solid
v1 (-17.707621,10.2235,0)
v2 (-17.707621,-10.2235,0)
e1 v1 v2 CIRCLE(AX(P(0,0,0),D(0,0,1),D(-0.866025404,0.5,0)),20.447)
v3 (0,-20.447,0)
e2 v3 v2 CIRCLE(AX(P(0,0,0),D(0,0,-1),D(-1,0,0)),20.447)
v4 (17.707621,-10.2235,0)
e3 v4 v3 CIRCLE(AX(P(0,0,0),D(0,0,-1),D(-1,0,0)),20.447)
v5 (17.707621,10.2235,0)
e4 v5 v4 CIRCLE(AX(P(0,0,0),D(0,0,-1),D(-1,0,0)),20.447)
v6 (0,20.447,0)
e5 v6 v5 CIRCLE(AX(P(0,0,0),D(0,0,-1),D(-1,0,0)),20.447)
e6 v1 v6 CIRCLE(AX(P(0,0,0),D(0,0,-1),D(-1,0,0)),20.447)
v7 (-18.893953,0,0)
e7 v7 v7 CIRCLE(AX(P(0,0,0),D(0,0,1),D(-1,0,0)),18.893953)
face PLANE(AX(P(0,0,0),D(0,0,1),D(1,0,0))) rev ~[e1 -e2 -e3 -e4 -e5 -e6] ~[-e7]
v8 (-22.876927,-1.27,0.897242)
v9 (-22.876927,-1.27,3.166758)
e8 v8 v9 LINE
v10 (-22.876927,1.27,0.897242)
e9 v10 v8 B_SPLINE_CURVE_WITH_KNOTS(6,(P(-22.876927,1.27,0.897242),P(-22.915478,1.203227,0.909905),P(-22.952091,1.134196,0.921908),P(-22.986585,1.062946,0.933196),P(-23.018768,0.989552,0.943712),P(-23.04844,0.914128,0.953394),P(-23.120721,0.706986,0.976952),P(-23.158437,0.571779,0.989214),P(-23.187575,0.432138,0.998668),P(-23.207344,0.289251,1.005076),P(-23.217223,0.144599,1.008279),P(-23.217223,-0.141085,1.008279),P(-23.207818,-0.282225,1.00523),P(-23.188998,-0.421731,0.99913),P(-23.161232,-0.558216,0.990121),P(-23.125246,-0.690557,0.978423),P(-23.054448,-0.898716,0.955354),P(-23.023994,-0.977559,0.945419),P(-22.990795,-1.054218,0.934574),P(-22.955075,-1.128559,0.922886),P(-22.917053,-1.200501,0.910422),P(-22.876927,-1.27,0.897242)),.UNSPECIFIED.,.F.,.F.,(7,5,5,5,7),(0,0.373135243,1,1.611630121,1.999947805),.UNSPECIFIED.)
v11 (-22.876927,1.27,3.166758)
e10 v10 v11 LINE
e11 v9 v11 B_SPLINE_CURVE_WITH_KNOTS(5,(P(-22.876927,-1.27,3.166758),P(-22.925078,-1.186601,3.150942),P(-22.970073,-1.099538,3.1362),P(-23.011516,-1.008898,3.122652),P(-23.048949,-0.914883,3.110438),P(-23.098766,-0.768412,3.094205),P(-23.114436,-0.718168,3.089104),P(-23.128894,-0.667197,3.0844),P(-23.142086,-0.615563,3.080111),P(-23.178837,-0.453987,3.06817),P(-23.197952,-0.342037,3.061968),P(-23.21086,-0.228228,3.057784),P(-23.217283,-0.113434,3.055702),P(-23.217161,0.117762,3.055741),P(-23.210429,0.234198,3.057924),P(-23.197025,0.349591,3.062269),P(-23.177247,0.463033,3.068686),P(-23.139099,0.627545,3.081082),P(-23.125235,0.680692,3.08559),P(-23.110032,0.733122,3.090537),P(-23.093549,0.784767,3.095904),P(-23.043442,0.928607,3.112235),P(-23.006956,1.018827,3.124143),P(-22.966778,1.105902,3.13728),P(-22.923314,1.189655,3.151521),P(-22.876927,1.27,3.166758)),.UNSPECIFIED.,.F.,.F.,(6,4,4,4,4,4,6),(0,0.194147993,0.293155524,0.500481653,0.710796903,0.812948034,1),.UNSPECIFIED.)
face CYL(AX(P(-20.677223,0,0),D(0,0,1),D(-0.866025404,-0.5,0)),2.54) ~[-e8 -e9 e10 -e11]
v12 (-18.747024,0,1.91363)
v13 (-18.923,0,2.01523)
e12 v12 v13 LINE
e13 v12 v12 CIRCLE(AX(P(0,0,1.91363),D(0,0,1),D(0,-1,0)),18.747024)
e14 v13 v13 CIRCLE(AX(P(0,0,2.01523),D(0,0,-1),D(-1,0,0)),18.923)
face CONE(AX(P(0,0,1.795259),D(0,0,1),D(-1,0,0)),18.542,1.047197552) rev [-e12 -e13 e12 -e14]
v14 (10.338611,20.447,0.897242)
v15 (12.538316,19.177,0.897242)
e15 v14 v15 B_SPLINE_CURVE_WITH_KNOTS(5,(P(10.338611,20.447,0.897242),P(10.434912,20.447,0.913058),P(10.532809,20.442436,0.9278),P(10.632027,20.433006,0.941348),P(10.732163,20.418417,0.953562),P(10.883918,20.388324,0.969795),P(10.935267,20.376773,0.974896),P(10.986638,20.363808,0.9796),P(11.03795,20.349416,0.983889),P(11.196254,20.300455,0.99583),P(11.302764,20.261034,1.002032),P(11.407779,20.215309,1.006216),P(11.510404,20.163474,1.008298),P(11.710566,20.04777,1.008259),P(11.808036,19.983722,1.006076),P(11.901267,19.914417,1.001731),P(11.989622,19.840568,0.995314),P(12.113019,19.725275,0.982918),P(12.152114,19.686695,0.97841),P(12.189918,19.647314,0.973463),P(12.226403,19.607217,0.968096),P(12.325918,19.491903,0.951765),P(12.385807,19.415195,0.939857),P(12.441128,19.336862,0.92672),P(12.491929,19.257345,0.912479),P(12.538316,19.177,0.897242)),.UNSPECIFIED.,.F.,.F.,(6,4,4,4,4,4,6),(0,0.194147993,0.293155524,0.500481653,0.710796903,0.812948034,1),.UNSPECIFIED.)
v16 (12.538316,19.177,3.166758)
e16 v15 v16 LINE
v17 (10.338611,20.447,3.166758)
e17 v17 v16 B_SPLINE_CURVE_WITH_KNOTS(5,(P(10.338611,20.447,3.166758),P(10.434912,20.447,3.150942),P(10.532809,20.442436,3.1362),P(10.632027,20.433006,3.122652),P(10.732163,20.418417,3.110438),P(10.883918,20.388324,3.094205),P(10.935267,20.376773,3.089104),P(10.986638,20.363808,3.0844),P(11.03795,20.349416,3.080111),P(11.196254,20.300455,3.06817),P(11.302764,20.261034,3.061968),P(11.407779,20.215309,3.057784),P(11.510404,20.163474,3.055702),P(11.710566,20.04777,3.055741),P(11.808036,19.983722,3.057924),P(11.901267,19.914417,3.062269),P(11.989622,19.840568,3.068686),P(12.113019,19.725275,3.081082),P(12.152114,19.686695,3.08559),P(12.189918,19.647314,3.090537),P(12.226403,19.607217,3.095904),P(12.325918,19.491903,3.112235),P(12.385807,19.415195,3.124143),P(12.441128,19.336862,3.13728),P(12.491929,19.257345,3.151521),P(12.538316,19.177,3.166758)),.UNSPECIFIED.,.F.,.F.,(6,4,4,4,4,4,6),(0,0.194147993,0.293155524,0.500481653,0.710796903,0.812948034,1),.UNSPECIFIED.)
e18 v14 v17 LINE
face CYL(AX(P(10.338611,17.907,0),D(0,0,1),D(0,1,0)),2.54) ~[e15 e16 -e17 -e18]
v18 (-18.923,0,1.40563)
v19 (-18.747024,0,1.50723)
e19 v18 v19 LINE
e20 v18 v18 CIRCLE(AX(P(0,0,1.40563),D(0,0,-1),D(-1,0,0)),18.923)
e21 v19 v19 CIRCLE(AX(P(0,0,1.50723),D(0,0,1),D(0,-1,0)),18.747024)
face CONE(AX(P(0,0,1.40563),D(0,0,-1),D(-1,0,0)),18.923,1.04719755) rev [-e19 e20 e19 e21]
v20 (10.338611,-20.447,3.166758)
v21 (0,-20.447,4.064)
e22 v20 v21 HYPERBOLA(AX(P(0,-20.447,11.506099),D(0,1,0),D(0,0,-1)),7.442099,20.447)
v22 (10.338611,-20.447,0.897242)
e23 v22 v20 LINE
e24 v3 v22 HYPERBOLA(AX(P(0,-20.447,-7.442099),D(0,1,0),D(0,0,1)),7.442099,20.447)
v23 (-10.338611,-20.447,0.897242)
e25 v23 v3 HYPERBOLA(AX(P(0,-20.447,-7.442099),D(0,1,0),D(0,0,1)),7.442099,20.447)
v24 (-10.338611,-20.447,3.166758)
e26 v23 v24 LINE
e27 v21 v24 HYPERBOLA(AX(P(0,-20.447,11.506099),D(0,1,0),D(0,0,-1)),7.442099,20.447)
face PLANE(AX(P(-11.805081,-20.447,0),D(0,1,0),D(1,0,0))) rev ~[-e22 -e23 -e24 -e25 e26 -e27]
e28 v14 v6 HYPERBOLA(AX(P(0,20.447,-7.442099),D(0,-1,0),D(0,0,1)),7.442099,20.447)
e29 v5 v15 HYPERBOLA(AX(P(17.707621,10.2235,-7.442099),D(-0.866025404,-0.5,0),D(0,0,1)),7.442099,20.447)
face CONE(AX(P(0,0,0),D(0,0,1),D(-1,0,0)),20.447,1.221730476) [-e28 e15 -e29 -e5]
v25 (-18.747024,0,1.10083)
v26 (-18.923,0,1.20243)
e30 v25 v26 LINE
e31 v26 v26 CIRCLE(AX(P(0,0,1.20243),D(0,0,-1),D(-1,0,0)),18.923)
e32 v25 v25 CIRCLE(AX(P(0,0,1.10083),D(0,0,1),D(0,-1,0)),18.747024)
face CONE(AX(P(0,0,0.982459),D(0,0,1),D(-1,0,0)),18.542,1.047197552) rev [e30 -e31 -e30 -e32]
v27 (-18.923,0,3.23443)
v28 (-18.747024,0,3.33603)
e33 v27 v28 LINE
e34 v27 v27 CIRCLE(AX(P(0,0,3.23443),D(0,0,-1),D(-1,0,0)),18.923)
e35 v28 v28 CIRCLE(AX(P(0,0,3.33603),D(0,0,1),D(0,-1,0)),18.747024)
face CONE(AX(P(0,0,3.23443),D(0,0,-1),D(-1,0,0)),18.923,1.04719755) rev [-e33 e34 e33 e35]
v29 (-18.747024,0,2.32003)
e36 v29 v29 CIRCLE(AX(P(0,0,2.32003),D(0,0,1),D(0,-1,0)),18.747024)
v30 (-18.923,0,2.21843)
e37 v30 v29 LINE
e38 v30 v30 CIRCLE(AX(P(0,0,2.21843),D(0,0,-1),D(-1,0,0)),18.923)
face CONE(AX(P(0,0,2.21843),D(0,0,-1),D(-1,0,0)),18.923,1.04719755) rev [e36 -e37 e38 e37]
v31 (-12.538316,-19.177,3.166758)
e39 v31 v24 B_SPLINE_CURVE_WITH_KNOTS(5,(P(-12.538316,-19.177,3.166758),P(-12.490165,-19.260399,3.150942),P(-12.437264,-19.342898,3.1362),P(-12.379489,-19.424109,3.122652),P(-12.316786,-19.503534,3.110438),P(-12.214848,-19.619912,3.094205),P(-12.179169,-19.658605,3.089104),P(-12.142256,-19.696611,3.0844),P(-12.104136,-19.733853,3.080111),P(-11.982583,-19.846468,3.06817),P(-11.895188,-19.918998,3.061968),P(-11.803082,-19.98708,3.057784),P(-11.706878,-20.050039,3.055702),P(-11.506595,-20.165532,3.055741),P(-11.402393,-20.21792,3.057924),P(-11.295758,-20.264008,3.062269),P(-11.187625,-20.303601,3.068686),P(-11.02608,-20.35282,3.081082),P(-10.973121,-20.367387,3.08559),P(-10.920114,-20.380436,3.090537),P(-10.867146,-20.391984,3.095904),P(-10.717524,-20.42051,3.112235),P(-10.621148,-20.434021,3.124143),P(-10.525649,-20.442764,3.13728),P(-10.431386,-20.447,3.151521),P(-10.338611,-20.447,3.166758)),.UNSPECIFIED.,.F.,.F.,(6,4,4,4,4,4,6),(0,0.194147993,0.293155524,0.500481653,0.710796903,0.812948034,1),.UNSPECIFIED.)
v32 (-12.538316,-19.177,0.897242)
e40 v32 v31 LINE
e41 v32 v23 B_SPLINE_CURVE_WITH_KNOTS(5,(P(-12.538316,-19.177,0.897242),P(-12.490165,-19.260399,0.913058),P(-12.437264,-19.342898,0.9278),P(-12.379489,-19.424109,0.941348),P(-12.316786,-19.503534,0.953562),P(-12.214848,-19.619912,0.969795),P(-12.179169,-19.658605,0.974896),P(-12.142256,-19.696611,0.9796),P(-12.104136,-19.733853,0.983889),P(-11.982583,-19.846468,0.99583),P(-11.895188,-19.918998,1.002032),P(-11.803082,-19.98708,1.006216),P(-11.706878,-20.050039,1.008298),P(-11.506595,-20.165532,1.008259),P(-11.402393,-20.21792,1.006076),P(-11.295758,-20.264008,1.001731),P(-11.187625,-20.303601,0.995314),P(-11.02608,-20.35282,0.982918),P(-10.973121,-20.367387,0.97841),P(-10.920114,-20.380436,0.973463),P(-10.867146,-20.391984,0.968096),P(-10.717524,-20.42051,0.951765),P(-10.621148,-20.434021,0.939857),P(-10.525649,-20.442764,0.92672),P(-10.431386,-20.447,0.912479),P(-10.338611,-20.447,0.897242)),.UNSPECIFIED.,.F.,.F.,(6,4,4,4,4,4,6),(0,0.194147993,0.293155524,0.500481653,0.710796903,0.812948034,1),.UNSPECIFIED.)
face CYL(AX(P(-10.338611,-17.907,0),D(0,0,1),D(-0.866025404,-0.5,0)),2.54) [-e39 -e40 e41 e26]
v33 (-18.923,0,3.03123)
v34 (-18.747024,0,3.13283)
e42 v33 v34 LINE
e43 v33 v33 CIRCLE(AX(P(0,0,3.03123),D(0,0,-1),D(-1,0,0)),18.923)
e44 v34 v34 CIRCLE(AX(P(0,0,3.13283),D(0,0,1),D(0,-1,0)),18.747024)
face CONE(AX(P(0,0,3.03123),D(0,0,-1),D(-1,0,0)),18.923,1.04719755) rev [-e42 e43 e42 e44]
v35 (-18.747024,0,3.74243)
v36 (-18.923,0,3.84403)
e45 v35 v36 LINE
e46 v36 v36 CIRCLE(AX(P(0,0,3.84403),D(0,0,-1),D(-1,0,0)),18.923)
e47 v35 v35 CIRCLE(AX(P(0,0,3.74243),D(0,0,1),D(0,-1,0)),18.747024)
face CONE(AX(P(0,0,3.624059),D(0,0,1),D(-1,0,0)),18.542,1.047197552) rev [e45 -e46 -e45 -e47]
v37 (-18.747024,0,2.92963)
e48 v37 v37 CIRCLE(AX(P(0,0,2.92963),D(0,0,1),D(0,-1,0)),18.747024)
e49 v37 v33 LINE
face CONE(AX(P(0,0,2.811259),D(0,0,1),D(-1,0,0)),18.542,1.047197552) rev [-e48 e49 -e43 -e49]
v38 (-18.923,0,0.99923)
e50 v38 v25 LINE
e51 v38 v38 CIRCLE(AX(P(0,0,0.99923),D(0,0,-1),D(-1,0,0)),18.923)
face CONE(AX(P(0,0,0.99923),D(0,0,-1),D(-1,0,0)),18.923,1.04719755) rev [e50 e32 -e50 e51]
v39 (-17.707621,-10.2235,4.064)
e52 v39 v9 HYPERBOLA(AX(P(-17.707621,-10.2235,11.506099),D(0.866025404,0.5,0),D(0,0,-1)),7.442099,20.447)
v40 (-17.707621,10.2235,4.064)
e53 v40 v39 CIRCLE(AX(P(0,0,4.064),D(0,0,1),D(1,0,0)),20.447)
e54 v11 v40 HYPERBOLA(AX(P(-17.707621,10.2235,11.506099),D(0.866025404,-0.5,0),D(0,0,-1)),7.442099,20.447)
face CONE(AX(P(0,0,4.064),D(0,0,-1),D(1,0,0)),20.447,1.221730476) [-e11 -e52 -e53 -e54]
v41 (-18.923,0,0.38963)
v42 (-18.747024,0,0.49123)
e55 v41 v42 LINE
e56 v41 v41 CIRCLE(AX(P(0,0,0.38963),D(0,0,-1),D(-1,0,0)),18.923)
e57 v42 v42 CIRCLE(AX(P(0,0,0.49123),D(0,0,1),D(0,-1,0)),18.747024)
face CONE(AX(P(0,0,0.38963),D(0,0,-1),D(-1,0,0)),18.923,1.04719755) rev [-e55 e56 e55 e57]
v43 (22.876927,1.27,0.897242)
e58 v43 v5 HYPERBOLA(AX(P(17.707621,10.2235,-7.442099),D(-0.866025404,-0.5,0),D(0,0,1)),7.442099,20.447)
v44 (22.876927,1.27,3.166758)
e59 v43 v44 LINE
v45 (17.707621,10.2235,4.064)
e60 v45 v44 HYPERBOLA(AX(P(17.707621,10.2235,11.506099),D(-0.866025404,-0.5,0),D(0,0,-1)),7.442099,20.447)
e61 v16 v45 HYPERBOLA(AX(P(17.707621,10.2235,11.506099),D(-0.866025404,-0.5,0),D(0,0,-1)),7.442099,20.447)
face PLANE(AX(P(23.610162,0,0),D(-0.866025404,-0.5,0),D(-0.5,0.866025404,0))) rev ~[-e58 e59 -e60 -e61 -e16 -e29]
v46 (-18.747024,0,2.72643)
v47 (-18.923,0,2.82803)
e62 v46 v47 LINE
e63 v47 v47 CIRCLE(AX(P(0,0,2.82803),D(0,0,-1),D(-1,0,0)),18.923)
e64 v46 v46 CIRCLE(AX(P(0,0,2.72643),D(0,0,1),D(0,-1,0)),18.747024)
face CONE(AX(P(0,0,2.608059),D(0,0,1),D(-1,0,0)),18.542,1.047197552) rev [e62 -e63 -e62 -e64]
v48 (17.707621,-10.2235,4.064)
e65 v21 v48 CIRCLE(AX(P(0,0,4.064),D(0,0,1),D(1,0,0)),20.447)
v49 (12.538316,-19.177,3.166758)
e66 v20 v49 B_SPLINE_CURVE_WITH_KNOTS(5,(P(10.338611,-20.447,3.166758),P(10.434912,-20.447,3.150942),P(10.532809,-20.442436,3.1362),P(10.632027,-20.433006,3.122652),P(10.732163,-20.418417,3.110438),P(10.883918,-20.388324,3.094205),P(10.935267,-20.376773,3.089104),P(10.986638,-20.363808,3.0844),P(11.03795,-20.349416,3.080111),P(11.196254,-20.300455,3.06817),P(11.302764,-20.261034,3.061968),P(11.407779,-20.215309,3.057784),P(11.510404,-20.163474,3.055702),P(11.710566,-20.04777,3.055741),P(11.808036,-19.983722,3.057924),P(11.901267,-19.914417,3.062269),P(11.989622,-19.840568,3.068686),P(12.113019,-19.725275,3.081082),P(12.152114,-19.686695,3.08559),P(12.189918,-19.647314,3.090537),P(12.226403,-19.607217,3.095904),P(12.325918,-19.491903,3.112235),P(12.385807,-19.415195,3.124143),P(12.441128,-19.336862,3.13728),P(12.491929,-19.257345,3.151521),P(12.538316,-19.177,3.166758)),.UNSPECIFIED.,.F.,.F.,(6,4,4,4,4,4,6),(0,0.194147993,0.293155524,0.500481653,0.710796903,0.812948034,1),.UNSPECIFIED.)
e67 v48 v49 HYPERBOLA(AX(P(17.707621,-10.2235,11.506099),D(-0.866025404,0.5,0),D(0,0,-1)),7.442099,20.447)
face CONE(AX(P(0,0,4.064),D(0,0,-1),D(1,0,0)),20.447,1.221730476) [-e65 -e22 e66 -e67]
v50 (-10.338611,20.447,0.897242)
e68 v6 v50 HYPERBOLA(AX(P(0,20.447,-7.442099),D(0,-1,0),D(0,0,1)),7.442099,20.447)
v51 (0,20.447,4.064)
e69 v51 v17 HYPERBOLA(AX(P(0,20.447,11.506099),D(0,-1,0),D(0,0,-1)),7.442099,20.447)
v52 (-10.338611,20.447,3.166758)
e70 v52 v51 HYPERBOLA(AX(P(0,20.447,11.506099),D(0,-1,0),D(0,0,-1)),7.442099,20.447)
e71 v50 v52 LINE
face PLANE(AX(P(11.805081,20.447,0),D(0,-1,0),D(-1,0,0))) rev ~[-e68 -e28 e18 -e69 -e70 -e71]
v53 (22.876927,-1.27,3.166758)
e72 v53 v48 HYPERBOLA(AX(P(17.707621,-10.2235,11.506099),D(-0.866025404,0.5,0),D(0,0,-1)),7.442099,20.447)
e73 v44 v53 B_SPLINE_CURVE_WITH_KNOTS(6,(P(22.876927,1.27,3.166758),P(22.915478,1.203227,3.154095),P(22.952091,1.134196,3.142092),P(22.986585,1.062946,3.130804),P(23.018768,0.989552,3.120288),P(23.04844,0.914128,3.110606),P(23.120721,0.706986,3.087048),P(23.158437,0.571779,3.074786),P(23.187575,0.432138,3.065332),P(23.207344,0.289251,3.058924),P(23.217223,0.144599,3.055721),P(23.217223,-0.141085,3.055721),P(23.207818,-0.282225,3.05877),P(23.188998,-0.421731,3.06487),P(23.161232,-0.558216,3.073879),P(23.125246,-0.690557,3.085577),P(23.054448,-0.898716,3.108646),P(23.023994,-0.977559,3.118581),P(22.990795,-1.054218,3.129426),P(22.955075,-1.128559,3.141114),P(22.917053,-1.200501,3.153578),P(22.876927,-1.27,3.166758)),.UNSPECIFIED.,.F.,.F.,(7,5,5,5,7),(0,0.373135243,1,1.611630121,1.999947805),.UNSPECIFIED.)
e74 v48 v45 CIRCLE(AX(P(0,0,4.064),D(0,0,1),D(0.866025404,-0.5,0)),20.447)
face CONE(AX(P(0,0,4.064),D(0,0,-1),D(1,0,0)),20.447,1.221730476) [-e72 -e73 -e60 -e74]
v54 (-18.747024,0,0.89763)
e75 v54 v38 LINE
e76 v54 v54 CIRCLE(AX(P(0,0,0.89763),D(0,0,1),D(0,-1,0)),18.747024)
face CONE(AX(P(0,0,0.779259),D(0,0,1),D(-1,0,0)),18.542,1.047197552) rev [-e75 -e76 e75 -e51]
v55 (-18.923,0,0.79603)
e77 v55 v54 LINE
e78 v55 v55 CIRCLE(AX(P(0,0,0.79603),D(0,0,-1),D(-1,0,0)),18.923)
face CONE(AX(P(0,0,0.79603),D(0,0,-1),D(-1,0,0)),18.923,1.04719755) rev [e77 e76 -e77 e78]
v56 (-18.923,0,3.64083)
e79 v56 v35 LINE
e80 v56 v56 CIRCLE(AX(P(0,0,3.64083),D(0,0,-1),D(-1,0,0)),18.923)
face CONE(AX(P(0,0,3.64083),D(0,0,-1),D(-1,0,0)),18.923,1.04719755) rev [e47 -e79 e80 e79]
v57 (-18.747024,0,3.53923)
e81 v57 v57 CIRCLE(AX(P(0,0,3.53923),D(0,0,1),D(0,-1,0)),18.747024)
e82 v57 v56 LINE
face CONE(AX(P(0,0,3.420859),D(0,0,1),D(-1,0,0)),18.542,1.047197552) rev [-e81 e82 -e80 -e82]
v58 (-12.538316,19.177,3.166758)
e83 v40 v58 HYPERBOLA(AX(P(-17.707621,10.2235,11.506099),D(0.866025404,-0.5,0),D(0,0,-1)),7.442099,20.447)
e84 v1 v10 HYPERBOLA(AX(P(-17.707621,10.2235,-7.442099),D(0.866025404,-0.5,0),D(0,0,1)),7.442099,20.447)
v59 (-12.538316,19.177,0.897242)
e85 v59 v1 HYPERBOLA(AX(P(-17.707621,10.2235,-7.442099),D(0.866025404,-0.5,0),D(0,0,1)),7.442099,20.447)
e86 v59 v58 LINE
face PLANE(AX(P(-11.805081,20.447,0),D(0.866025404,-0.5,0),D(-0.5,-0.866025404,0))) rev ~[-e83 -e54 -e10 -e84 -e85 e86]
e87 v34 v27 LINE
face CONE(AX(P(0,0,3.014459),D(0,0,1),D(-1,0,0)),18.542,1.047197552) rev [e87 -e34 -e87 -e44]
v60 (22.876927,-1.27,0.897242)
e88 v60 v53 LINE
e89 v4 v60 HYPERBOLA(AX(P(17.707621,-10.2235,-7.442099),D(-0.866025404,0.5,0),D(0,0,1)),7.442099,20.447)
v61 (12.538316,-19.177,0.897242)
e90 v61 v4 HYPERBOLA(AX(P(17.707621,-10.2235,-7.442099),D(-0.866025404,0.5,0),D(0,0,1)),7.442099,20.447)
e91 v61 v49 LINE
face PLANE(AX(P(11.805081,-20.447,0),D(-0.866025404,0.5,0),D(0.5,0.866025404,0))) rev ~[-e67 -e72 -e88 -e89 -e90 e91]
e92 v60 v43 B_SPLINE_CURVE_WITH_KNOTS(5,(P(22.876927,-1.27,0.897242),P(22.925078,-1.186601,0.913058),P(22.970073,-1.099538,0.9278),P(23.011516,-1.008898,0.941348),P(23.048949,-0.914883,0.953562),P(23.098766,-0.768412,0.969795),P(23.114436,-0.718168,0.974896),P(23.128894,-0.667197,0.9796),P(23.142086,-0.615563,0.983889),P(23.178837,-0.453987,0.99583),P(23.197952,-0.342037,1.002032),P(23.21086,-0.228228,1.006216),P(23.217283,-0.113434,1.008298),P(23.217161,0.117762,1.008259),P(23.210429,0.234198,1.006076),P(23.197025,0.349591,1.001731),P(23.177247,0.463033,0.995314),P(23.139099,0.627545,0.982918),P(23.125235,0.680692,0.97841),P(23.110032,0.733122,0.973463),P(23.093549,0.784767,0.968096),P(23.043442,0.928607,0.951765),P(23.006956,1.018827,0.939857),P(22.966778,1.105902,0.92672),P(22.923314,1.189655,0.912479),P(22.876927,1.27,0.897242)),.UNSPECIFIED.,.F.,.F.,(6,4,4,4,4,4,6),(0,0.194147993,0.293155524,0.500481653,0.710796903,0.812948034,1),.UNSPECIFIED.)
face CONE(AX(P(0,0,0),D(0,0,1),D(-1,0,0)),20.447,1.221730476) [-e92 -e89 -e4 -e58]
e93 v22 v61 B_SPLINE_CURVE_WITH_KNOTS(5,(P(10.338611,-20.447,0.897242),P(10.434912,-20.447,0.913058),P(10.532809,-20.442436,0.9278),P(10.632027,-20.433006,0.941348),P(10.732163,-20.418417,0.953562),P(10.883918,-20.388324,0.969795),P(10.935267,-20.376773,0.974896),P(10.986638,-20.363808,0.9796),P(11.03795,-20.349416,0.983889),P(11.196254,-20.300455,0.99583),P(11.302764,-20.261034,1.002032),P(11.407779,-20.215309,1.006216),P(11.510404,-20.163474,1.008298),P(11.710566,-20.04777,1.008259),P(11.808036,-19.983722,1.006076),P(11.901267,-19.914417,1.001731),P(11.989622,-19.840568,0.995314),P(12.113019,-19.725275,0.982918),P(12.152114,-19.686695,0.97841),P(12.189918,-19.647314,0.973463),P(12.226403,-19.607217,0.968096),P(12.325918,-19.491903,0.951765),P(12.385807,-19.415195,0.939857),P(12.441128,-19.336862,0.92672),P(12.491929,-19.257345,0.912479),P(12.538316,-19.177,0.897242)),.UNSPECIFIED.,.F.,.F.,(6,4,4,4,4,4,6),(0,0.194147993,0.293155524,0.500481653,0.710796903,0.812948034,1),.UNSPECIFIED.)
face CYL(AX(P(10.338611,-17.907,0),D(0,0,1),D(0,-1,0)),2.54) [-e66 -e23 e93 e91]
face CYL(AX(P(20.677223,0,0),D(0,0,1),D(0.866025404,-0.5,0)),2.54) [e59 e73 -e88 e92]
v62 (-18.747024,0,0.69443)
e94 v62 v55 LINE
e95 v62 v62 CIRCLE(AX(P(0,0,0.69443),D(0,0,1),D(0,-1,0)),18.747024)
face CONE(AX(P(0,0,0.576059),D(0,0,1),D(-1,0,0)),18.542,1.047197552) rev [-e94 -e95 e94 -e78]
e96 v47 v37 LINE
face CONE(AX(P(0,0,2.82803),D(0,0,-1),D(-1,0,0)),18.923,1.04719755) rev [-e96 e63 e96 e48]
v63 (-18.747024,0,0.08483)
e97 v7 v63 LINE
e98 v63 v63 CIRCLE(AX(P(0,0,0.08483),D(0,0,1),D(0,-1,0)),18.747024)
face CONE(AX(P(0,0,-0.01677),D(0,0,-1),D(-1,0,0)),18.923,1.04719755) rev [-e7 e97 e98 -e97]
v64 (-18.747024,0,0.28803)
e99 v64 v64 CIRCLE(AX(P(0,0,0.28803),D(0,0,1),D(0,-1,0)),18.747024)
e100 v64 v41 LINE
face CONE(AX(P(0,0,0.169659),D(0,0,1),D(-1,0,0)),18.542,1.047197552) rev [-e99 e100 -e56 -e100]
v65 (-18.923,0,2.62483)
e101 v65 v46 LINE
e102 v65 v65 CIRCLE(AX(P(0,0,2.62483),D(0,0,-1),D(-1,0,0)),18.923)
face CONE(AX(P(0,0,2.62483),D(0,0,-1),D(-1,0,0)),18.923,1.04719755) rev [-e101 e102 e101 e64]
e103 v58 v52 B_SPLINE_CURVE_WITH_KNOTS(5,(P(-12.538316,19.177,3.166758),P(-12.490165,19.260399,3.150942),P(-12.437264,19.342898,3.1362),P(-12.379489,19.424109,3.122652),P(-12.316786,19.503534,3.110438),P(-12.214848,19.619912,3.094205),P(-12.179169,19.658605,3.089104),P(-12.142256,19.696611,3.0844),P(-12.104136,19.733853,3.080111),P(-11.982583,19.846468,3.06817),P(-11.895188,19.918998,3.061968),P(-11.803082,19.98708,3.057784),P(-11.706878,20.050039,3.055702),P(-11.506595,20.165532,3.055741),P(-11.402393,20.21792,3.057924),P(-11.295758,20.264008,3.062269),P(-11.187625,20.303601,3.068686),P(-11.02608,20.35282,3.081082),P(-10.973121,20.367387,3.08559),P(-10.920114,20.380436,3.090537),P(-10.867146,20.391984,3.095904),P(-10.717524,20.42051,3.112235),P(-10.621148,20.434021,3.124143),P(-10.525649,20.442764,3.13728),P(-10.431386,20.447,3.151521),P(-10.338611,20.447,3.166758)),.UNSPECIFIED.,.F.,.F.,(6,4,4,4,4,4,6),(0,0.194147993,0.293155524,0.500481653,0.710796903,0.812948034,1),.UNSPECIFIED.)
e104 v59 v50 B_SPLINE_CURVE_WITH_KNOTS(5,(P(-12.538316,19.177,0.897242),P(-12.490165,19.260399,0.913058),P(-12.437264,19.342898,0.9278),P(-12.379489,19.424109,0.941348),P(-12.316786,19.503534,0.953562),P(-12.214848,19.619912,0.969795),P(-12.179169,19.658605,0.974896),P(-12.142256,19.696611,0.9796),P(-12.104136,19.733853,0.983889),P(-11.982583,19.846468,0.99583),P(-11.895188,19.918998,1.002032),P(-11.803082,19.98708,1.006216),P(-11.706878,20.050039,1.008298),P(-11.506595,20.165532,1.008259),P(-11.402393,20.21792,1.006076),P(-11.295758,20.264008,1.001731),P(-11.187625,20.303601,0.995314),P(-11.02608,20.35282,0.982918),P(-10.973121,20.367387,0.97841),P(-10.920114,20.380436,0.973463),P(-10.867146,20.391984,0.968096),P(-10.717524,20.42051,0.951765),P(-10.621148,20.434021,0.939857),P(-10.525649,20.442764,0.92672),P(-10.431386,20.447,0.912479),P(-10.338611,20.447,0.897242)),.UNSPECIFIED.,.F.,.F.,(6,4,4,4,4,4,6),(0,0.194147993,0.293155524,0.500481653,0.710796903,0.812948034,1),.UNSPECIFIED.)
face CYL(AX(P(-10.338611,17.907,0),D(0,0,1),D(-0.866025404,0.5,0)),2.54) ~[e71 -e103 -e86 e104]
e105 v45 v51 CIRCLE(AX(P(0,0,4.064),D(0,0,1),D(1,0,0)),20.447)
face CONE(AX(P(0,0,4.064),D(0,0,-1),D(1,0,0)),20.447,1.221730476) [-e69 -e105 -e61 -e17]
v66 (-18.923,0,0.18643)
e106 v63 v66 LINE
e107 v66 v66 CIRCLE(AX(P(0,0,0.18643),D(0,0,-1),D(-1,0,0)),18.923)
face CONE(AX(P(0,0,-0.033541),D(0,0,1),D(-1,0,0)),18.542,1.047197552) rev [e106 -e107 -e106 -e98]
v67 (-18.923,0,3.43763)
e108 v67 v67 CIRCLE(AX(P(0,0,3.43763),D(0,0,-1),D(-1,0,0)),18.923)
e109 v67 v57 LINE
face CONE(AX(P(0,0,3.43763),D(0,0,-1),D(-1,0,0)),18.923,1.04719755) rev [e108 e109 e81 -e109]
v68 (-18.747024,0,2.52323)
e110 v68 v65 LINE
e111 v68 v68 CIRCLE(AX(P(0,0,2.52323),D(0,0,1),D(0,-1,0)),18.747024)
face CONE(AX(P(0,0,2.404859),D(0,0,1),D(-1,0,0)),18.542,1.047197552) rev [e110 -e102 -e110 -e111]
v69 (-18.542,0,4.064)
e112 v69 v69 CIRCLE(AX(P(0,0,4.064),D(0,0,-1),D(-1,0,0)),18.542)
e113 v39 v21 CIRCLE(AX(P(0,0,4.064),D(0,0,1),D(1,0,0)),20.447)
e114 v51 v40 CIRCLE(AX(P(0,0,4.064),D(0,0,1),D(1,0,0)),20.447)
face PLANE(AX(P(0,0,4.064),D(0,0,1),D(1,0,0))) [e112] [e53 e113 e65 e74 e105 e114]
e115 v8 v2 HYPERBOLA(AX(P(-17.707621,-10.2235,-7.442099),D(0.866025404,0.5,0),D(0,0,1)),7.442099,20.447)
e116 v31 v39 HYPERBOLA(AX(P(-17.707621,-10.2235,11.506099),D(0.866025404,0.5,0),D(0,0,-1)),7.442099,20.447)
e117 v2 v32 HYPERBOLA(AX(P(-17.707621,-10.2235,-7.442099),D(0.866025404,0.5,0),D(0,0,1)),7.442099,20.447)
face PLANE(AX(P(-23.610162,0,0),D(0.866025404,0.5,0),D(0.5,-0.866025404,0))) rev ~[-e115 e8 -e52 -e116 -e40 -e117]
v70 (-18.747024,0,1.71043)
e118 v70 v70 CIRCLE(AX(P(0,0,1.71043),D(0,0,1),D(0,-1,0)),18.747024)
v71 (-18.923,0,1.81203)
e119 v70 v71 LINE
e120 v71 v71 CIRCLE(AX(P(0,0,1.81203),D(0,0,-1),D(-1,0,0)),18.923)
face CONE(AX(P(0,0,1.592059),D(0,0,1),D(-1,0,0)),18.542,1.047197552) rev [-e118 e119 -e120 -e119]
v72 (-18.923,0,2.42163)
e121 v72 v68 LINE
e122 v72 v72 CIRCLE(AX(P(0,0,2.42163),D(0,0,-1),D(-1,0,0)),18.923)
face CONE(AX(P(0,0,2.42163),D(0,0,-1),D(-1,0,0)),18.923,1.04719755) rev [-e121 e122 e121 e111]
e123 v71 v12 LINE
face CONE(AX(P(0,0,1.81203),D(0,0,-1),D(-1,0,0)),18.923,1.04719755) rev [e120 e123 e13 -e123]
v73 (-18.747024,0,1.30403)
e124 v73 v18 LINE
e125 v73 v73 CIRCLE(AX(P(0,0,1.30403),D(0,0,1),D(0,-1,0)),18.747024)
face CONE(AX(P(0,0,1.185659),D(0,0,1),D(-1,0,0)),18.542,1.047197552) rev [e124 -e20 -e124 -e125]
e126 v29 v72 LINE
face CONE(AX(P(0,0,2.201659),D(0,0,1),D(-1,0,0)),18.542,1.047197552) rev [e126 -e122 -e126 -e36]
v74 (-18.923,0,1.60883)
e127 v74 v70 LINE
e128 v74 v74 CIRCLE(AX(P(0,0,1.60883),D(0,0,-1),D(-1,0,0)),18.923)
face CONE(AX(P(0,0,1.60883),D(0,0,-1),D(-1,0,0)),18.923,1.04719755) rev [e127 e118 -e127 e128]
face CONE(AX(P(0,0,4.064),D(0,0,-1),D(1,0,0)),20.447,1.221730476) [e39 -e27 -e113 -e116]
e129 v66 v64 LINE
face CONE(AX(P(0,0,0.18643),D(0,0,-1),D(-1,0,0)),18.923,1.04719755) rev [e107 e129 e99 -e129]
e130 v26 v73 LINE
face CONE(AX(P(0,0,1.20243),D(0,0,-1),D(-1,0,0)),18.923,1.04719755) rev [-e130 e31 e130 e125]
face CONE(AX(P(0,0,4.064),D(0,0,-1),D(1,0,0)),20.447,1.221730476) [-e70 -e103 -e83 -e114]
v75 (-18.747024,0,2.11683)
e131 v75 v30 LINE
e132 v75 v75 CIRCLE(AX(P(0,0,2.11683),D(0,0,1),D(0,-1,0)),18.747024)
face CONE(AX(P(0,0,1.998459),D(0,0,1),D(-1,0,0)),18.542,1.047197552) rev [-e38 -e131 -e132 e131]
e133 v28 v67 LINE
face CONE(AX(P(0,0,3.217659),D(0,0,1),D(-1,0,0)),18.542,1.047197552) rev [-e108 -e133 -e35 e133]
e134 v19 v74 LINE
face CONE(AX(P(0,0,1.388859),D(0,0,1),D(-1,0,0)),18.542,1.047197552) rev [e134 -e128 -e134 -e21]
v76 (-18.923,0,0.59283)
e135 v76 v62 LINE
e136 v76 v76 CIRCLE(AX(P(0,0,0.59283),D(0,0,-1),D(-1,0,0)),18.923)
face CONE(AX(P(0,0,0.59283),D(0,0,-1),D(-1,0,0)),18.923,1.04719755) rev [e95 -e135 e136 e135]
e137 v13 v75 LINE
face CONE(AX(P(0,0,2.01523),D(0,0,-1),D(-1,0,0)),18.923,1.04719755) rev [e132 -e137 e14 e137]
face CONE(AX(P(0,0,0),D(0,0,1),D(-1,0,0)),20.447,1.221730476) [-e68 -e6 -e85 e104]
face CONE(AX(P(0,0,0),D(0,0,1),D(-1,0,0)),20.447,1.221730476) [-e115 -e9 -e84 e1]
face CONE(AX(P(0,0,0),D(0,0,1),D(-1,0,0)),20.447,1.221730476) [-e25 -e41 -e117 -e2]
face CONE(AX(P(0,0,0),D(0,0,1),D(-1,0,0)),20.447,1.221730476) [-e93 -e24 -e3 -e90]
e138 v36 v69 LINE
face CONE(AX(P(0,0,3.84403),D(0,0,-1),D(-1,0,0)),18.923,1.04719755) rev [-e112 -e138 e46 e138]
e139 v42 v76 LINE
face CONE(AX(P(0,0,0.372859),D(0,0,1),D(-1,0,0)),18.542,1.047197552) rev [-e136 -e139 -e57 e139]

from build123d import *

# Parameters (mm, degrees)
SKETCH1_R          = 18.542
EXTRUDE1_DEPTH     = 4.064
FILLET1_R          = 2.54
SKETCH2_OUTSIDE_W  = 88.662
SKETCH2_OUTSIDE_H  = 83.122
SKETCH2_OUTSIDE_R  = 20.447
CUT_EXTRUDE1_DEPTH = 5.064
CUT_EXTRUDE1_DRAFT = -70
SKETCH3_OUTSIDE_W  = 88.662
SKETCH3_OUTSIDE_H  = 83.122
SKETCH3_OUTSIDE_R  = 20.447
CUT_EXTRUDE2_DEPTH = 5.0640001
CUT_EXTRUDE2_DRAFT = -70
LPATTERN1_COUNT    = 20
LPATTERN1_PITCH    = 0.2032


with BuildPart() as part:
    # Sketch1 → Extrude1 (new body)
    with BuildSketch(Plane.XY):
        Polygon((-23.610161908, 0), (-11.805080954, -20.447), (11.805080954, -20.447), (23.610161908, 0), (11.805080954, 20.447), (-11.805080954, 20.447), align=None)
        Circle(SKETCH1_R, mode=Mode.SUBTRACT)
    extrude(amount=EXTRUDE1_DEPTH)

    # Fillet1
    fillet1_edges = [part.edges().sort_by_distance(p)[0] for p in [
        (23.610161908, 0, 2.032),
        (11.805080954, -20.447, 2.032),
        (-11.805080954, -20.447, 2.032),
        (-23.610161908, 0, 2.032),
        (-11.805080954, 20.447, 2.032),
        (11.805080954, 20.447, 2.032),
    ]]
    fillet(fillet1_edges, radius=FILLET1_R)


with BuildPart() as cut_extrude1_tool:
    # Sketch2 outside → Cut-Extrude1 (with draft: the straight prism first)
    with BuildSketch(Plane.XY.offset(4.064)):
        Rectangle(SKETCH2_OUTSIDE_W, SKETCH2_OUTSIDE_H)
        Circle(SKETCH2_OUTSIDE_R, mode=Mode.SUBTRACT)
    extrude(amount=-CUT_EXTRUDE1_DEPTH)
    # Cut-Extrude1: the draft: its side faces are tilted about the plane it starts from
    cut_extrude1_sides = [cut_extrude1_tool.faces().sort_by_distance(p)[0] for p in [
        (0, -41.561, 1.532),
        (44.331, 0, 1.532),
        (0, 41.561, 1.532),
        (-44.331, 0, 1.532),
        (-20.447, 0, 1.532),
    ]]
    draft(cut_extrude1_sides, Plane.XY.offset(4.064), CUT_EXTRUDE1_DRAFT)


with BuildPart() as part_1:
    add(part.part)

    # Cut-Extrude1: cut by cut_extrude1_tool
    add(cut_extrude1_tool.part, mode=Mode.SUBTRACT)


with BuildPart() as cut_extrude2_tool:
    # Sketch3 outside → Cut-Extrude2 (with draft: the straight prism first)
    with BuildSketch(Plane(origin=(0, 0, 0), x_dir=(-1, 0, 0), z_dir=(0, 0, -1))):
        Rectangle(SKETCH3_OUTSIDE_W, SKETCH3_OUTSIDE_H)
        Circle(SKETCH3_OUTSIDE_R, mode=Mode.SUBTRACT)
    extrude(amount=-CUT_EXTRUDE2_DEPTH)
    # Cut-Extrude2: the draft: its side faces are tilted about the plane it starts from
    cut_extrude2_sides = [cut_extrude2_tool.faces().sort_by_distance(p)[0] for p in [
        (0, -41.561, 2.53200005),
        (-44.331, 0, 2.53200005),
        (0, 41.561, 2.53200005),
        (44.331, 0, 2.53200005),
        (20.447, 0, 2.53200005),
    ]]
    draft(cut_extrude2_sides, Plane(origin=(0, 0, 0), x_dir=(-1, 0, 0), z_dir=(0, 0, -1)), CUT_EXTRUDE2_DRAFT)


with BuildPart() as part_2:
    add(part_1.part)

    # Cut-Extrude2: cut by cut_extrude2_tool
    add(cut_extrude2_tool.part, mode=Mode.SUBTRACT)

    # Sketch4 → Cut-Revolve1 (revolve, cut)
    with BuildSketch(Plane(origin=(0, 0, 0), x_dir=(1, 0, 0), z_dir=(0, 1, 0))):
        Polygon((-18.542, -4.064), (-18.542, -3.624059095), (-18.923, -3.844029547), align=None)
    cut_revolve1 = revolve(axis=Axis((0, 0, 4.064), (0, 0, -1)), mode=Mode.SUBTRACT)

    # LPattern1: Cut-Revolve1 ×20
    with Locations(*[(0, 0, -i * LPATTERN1_PITCH) for i in range(1, LPATTERN1_COUNT)]):
        add(cut_revolve1, mode=Mode.SUBTRACT)


solid = part_2.part
